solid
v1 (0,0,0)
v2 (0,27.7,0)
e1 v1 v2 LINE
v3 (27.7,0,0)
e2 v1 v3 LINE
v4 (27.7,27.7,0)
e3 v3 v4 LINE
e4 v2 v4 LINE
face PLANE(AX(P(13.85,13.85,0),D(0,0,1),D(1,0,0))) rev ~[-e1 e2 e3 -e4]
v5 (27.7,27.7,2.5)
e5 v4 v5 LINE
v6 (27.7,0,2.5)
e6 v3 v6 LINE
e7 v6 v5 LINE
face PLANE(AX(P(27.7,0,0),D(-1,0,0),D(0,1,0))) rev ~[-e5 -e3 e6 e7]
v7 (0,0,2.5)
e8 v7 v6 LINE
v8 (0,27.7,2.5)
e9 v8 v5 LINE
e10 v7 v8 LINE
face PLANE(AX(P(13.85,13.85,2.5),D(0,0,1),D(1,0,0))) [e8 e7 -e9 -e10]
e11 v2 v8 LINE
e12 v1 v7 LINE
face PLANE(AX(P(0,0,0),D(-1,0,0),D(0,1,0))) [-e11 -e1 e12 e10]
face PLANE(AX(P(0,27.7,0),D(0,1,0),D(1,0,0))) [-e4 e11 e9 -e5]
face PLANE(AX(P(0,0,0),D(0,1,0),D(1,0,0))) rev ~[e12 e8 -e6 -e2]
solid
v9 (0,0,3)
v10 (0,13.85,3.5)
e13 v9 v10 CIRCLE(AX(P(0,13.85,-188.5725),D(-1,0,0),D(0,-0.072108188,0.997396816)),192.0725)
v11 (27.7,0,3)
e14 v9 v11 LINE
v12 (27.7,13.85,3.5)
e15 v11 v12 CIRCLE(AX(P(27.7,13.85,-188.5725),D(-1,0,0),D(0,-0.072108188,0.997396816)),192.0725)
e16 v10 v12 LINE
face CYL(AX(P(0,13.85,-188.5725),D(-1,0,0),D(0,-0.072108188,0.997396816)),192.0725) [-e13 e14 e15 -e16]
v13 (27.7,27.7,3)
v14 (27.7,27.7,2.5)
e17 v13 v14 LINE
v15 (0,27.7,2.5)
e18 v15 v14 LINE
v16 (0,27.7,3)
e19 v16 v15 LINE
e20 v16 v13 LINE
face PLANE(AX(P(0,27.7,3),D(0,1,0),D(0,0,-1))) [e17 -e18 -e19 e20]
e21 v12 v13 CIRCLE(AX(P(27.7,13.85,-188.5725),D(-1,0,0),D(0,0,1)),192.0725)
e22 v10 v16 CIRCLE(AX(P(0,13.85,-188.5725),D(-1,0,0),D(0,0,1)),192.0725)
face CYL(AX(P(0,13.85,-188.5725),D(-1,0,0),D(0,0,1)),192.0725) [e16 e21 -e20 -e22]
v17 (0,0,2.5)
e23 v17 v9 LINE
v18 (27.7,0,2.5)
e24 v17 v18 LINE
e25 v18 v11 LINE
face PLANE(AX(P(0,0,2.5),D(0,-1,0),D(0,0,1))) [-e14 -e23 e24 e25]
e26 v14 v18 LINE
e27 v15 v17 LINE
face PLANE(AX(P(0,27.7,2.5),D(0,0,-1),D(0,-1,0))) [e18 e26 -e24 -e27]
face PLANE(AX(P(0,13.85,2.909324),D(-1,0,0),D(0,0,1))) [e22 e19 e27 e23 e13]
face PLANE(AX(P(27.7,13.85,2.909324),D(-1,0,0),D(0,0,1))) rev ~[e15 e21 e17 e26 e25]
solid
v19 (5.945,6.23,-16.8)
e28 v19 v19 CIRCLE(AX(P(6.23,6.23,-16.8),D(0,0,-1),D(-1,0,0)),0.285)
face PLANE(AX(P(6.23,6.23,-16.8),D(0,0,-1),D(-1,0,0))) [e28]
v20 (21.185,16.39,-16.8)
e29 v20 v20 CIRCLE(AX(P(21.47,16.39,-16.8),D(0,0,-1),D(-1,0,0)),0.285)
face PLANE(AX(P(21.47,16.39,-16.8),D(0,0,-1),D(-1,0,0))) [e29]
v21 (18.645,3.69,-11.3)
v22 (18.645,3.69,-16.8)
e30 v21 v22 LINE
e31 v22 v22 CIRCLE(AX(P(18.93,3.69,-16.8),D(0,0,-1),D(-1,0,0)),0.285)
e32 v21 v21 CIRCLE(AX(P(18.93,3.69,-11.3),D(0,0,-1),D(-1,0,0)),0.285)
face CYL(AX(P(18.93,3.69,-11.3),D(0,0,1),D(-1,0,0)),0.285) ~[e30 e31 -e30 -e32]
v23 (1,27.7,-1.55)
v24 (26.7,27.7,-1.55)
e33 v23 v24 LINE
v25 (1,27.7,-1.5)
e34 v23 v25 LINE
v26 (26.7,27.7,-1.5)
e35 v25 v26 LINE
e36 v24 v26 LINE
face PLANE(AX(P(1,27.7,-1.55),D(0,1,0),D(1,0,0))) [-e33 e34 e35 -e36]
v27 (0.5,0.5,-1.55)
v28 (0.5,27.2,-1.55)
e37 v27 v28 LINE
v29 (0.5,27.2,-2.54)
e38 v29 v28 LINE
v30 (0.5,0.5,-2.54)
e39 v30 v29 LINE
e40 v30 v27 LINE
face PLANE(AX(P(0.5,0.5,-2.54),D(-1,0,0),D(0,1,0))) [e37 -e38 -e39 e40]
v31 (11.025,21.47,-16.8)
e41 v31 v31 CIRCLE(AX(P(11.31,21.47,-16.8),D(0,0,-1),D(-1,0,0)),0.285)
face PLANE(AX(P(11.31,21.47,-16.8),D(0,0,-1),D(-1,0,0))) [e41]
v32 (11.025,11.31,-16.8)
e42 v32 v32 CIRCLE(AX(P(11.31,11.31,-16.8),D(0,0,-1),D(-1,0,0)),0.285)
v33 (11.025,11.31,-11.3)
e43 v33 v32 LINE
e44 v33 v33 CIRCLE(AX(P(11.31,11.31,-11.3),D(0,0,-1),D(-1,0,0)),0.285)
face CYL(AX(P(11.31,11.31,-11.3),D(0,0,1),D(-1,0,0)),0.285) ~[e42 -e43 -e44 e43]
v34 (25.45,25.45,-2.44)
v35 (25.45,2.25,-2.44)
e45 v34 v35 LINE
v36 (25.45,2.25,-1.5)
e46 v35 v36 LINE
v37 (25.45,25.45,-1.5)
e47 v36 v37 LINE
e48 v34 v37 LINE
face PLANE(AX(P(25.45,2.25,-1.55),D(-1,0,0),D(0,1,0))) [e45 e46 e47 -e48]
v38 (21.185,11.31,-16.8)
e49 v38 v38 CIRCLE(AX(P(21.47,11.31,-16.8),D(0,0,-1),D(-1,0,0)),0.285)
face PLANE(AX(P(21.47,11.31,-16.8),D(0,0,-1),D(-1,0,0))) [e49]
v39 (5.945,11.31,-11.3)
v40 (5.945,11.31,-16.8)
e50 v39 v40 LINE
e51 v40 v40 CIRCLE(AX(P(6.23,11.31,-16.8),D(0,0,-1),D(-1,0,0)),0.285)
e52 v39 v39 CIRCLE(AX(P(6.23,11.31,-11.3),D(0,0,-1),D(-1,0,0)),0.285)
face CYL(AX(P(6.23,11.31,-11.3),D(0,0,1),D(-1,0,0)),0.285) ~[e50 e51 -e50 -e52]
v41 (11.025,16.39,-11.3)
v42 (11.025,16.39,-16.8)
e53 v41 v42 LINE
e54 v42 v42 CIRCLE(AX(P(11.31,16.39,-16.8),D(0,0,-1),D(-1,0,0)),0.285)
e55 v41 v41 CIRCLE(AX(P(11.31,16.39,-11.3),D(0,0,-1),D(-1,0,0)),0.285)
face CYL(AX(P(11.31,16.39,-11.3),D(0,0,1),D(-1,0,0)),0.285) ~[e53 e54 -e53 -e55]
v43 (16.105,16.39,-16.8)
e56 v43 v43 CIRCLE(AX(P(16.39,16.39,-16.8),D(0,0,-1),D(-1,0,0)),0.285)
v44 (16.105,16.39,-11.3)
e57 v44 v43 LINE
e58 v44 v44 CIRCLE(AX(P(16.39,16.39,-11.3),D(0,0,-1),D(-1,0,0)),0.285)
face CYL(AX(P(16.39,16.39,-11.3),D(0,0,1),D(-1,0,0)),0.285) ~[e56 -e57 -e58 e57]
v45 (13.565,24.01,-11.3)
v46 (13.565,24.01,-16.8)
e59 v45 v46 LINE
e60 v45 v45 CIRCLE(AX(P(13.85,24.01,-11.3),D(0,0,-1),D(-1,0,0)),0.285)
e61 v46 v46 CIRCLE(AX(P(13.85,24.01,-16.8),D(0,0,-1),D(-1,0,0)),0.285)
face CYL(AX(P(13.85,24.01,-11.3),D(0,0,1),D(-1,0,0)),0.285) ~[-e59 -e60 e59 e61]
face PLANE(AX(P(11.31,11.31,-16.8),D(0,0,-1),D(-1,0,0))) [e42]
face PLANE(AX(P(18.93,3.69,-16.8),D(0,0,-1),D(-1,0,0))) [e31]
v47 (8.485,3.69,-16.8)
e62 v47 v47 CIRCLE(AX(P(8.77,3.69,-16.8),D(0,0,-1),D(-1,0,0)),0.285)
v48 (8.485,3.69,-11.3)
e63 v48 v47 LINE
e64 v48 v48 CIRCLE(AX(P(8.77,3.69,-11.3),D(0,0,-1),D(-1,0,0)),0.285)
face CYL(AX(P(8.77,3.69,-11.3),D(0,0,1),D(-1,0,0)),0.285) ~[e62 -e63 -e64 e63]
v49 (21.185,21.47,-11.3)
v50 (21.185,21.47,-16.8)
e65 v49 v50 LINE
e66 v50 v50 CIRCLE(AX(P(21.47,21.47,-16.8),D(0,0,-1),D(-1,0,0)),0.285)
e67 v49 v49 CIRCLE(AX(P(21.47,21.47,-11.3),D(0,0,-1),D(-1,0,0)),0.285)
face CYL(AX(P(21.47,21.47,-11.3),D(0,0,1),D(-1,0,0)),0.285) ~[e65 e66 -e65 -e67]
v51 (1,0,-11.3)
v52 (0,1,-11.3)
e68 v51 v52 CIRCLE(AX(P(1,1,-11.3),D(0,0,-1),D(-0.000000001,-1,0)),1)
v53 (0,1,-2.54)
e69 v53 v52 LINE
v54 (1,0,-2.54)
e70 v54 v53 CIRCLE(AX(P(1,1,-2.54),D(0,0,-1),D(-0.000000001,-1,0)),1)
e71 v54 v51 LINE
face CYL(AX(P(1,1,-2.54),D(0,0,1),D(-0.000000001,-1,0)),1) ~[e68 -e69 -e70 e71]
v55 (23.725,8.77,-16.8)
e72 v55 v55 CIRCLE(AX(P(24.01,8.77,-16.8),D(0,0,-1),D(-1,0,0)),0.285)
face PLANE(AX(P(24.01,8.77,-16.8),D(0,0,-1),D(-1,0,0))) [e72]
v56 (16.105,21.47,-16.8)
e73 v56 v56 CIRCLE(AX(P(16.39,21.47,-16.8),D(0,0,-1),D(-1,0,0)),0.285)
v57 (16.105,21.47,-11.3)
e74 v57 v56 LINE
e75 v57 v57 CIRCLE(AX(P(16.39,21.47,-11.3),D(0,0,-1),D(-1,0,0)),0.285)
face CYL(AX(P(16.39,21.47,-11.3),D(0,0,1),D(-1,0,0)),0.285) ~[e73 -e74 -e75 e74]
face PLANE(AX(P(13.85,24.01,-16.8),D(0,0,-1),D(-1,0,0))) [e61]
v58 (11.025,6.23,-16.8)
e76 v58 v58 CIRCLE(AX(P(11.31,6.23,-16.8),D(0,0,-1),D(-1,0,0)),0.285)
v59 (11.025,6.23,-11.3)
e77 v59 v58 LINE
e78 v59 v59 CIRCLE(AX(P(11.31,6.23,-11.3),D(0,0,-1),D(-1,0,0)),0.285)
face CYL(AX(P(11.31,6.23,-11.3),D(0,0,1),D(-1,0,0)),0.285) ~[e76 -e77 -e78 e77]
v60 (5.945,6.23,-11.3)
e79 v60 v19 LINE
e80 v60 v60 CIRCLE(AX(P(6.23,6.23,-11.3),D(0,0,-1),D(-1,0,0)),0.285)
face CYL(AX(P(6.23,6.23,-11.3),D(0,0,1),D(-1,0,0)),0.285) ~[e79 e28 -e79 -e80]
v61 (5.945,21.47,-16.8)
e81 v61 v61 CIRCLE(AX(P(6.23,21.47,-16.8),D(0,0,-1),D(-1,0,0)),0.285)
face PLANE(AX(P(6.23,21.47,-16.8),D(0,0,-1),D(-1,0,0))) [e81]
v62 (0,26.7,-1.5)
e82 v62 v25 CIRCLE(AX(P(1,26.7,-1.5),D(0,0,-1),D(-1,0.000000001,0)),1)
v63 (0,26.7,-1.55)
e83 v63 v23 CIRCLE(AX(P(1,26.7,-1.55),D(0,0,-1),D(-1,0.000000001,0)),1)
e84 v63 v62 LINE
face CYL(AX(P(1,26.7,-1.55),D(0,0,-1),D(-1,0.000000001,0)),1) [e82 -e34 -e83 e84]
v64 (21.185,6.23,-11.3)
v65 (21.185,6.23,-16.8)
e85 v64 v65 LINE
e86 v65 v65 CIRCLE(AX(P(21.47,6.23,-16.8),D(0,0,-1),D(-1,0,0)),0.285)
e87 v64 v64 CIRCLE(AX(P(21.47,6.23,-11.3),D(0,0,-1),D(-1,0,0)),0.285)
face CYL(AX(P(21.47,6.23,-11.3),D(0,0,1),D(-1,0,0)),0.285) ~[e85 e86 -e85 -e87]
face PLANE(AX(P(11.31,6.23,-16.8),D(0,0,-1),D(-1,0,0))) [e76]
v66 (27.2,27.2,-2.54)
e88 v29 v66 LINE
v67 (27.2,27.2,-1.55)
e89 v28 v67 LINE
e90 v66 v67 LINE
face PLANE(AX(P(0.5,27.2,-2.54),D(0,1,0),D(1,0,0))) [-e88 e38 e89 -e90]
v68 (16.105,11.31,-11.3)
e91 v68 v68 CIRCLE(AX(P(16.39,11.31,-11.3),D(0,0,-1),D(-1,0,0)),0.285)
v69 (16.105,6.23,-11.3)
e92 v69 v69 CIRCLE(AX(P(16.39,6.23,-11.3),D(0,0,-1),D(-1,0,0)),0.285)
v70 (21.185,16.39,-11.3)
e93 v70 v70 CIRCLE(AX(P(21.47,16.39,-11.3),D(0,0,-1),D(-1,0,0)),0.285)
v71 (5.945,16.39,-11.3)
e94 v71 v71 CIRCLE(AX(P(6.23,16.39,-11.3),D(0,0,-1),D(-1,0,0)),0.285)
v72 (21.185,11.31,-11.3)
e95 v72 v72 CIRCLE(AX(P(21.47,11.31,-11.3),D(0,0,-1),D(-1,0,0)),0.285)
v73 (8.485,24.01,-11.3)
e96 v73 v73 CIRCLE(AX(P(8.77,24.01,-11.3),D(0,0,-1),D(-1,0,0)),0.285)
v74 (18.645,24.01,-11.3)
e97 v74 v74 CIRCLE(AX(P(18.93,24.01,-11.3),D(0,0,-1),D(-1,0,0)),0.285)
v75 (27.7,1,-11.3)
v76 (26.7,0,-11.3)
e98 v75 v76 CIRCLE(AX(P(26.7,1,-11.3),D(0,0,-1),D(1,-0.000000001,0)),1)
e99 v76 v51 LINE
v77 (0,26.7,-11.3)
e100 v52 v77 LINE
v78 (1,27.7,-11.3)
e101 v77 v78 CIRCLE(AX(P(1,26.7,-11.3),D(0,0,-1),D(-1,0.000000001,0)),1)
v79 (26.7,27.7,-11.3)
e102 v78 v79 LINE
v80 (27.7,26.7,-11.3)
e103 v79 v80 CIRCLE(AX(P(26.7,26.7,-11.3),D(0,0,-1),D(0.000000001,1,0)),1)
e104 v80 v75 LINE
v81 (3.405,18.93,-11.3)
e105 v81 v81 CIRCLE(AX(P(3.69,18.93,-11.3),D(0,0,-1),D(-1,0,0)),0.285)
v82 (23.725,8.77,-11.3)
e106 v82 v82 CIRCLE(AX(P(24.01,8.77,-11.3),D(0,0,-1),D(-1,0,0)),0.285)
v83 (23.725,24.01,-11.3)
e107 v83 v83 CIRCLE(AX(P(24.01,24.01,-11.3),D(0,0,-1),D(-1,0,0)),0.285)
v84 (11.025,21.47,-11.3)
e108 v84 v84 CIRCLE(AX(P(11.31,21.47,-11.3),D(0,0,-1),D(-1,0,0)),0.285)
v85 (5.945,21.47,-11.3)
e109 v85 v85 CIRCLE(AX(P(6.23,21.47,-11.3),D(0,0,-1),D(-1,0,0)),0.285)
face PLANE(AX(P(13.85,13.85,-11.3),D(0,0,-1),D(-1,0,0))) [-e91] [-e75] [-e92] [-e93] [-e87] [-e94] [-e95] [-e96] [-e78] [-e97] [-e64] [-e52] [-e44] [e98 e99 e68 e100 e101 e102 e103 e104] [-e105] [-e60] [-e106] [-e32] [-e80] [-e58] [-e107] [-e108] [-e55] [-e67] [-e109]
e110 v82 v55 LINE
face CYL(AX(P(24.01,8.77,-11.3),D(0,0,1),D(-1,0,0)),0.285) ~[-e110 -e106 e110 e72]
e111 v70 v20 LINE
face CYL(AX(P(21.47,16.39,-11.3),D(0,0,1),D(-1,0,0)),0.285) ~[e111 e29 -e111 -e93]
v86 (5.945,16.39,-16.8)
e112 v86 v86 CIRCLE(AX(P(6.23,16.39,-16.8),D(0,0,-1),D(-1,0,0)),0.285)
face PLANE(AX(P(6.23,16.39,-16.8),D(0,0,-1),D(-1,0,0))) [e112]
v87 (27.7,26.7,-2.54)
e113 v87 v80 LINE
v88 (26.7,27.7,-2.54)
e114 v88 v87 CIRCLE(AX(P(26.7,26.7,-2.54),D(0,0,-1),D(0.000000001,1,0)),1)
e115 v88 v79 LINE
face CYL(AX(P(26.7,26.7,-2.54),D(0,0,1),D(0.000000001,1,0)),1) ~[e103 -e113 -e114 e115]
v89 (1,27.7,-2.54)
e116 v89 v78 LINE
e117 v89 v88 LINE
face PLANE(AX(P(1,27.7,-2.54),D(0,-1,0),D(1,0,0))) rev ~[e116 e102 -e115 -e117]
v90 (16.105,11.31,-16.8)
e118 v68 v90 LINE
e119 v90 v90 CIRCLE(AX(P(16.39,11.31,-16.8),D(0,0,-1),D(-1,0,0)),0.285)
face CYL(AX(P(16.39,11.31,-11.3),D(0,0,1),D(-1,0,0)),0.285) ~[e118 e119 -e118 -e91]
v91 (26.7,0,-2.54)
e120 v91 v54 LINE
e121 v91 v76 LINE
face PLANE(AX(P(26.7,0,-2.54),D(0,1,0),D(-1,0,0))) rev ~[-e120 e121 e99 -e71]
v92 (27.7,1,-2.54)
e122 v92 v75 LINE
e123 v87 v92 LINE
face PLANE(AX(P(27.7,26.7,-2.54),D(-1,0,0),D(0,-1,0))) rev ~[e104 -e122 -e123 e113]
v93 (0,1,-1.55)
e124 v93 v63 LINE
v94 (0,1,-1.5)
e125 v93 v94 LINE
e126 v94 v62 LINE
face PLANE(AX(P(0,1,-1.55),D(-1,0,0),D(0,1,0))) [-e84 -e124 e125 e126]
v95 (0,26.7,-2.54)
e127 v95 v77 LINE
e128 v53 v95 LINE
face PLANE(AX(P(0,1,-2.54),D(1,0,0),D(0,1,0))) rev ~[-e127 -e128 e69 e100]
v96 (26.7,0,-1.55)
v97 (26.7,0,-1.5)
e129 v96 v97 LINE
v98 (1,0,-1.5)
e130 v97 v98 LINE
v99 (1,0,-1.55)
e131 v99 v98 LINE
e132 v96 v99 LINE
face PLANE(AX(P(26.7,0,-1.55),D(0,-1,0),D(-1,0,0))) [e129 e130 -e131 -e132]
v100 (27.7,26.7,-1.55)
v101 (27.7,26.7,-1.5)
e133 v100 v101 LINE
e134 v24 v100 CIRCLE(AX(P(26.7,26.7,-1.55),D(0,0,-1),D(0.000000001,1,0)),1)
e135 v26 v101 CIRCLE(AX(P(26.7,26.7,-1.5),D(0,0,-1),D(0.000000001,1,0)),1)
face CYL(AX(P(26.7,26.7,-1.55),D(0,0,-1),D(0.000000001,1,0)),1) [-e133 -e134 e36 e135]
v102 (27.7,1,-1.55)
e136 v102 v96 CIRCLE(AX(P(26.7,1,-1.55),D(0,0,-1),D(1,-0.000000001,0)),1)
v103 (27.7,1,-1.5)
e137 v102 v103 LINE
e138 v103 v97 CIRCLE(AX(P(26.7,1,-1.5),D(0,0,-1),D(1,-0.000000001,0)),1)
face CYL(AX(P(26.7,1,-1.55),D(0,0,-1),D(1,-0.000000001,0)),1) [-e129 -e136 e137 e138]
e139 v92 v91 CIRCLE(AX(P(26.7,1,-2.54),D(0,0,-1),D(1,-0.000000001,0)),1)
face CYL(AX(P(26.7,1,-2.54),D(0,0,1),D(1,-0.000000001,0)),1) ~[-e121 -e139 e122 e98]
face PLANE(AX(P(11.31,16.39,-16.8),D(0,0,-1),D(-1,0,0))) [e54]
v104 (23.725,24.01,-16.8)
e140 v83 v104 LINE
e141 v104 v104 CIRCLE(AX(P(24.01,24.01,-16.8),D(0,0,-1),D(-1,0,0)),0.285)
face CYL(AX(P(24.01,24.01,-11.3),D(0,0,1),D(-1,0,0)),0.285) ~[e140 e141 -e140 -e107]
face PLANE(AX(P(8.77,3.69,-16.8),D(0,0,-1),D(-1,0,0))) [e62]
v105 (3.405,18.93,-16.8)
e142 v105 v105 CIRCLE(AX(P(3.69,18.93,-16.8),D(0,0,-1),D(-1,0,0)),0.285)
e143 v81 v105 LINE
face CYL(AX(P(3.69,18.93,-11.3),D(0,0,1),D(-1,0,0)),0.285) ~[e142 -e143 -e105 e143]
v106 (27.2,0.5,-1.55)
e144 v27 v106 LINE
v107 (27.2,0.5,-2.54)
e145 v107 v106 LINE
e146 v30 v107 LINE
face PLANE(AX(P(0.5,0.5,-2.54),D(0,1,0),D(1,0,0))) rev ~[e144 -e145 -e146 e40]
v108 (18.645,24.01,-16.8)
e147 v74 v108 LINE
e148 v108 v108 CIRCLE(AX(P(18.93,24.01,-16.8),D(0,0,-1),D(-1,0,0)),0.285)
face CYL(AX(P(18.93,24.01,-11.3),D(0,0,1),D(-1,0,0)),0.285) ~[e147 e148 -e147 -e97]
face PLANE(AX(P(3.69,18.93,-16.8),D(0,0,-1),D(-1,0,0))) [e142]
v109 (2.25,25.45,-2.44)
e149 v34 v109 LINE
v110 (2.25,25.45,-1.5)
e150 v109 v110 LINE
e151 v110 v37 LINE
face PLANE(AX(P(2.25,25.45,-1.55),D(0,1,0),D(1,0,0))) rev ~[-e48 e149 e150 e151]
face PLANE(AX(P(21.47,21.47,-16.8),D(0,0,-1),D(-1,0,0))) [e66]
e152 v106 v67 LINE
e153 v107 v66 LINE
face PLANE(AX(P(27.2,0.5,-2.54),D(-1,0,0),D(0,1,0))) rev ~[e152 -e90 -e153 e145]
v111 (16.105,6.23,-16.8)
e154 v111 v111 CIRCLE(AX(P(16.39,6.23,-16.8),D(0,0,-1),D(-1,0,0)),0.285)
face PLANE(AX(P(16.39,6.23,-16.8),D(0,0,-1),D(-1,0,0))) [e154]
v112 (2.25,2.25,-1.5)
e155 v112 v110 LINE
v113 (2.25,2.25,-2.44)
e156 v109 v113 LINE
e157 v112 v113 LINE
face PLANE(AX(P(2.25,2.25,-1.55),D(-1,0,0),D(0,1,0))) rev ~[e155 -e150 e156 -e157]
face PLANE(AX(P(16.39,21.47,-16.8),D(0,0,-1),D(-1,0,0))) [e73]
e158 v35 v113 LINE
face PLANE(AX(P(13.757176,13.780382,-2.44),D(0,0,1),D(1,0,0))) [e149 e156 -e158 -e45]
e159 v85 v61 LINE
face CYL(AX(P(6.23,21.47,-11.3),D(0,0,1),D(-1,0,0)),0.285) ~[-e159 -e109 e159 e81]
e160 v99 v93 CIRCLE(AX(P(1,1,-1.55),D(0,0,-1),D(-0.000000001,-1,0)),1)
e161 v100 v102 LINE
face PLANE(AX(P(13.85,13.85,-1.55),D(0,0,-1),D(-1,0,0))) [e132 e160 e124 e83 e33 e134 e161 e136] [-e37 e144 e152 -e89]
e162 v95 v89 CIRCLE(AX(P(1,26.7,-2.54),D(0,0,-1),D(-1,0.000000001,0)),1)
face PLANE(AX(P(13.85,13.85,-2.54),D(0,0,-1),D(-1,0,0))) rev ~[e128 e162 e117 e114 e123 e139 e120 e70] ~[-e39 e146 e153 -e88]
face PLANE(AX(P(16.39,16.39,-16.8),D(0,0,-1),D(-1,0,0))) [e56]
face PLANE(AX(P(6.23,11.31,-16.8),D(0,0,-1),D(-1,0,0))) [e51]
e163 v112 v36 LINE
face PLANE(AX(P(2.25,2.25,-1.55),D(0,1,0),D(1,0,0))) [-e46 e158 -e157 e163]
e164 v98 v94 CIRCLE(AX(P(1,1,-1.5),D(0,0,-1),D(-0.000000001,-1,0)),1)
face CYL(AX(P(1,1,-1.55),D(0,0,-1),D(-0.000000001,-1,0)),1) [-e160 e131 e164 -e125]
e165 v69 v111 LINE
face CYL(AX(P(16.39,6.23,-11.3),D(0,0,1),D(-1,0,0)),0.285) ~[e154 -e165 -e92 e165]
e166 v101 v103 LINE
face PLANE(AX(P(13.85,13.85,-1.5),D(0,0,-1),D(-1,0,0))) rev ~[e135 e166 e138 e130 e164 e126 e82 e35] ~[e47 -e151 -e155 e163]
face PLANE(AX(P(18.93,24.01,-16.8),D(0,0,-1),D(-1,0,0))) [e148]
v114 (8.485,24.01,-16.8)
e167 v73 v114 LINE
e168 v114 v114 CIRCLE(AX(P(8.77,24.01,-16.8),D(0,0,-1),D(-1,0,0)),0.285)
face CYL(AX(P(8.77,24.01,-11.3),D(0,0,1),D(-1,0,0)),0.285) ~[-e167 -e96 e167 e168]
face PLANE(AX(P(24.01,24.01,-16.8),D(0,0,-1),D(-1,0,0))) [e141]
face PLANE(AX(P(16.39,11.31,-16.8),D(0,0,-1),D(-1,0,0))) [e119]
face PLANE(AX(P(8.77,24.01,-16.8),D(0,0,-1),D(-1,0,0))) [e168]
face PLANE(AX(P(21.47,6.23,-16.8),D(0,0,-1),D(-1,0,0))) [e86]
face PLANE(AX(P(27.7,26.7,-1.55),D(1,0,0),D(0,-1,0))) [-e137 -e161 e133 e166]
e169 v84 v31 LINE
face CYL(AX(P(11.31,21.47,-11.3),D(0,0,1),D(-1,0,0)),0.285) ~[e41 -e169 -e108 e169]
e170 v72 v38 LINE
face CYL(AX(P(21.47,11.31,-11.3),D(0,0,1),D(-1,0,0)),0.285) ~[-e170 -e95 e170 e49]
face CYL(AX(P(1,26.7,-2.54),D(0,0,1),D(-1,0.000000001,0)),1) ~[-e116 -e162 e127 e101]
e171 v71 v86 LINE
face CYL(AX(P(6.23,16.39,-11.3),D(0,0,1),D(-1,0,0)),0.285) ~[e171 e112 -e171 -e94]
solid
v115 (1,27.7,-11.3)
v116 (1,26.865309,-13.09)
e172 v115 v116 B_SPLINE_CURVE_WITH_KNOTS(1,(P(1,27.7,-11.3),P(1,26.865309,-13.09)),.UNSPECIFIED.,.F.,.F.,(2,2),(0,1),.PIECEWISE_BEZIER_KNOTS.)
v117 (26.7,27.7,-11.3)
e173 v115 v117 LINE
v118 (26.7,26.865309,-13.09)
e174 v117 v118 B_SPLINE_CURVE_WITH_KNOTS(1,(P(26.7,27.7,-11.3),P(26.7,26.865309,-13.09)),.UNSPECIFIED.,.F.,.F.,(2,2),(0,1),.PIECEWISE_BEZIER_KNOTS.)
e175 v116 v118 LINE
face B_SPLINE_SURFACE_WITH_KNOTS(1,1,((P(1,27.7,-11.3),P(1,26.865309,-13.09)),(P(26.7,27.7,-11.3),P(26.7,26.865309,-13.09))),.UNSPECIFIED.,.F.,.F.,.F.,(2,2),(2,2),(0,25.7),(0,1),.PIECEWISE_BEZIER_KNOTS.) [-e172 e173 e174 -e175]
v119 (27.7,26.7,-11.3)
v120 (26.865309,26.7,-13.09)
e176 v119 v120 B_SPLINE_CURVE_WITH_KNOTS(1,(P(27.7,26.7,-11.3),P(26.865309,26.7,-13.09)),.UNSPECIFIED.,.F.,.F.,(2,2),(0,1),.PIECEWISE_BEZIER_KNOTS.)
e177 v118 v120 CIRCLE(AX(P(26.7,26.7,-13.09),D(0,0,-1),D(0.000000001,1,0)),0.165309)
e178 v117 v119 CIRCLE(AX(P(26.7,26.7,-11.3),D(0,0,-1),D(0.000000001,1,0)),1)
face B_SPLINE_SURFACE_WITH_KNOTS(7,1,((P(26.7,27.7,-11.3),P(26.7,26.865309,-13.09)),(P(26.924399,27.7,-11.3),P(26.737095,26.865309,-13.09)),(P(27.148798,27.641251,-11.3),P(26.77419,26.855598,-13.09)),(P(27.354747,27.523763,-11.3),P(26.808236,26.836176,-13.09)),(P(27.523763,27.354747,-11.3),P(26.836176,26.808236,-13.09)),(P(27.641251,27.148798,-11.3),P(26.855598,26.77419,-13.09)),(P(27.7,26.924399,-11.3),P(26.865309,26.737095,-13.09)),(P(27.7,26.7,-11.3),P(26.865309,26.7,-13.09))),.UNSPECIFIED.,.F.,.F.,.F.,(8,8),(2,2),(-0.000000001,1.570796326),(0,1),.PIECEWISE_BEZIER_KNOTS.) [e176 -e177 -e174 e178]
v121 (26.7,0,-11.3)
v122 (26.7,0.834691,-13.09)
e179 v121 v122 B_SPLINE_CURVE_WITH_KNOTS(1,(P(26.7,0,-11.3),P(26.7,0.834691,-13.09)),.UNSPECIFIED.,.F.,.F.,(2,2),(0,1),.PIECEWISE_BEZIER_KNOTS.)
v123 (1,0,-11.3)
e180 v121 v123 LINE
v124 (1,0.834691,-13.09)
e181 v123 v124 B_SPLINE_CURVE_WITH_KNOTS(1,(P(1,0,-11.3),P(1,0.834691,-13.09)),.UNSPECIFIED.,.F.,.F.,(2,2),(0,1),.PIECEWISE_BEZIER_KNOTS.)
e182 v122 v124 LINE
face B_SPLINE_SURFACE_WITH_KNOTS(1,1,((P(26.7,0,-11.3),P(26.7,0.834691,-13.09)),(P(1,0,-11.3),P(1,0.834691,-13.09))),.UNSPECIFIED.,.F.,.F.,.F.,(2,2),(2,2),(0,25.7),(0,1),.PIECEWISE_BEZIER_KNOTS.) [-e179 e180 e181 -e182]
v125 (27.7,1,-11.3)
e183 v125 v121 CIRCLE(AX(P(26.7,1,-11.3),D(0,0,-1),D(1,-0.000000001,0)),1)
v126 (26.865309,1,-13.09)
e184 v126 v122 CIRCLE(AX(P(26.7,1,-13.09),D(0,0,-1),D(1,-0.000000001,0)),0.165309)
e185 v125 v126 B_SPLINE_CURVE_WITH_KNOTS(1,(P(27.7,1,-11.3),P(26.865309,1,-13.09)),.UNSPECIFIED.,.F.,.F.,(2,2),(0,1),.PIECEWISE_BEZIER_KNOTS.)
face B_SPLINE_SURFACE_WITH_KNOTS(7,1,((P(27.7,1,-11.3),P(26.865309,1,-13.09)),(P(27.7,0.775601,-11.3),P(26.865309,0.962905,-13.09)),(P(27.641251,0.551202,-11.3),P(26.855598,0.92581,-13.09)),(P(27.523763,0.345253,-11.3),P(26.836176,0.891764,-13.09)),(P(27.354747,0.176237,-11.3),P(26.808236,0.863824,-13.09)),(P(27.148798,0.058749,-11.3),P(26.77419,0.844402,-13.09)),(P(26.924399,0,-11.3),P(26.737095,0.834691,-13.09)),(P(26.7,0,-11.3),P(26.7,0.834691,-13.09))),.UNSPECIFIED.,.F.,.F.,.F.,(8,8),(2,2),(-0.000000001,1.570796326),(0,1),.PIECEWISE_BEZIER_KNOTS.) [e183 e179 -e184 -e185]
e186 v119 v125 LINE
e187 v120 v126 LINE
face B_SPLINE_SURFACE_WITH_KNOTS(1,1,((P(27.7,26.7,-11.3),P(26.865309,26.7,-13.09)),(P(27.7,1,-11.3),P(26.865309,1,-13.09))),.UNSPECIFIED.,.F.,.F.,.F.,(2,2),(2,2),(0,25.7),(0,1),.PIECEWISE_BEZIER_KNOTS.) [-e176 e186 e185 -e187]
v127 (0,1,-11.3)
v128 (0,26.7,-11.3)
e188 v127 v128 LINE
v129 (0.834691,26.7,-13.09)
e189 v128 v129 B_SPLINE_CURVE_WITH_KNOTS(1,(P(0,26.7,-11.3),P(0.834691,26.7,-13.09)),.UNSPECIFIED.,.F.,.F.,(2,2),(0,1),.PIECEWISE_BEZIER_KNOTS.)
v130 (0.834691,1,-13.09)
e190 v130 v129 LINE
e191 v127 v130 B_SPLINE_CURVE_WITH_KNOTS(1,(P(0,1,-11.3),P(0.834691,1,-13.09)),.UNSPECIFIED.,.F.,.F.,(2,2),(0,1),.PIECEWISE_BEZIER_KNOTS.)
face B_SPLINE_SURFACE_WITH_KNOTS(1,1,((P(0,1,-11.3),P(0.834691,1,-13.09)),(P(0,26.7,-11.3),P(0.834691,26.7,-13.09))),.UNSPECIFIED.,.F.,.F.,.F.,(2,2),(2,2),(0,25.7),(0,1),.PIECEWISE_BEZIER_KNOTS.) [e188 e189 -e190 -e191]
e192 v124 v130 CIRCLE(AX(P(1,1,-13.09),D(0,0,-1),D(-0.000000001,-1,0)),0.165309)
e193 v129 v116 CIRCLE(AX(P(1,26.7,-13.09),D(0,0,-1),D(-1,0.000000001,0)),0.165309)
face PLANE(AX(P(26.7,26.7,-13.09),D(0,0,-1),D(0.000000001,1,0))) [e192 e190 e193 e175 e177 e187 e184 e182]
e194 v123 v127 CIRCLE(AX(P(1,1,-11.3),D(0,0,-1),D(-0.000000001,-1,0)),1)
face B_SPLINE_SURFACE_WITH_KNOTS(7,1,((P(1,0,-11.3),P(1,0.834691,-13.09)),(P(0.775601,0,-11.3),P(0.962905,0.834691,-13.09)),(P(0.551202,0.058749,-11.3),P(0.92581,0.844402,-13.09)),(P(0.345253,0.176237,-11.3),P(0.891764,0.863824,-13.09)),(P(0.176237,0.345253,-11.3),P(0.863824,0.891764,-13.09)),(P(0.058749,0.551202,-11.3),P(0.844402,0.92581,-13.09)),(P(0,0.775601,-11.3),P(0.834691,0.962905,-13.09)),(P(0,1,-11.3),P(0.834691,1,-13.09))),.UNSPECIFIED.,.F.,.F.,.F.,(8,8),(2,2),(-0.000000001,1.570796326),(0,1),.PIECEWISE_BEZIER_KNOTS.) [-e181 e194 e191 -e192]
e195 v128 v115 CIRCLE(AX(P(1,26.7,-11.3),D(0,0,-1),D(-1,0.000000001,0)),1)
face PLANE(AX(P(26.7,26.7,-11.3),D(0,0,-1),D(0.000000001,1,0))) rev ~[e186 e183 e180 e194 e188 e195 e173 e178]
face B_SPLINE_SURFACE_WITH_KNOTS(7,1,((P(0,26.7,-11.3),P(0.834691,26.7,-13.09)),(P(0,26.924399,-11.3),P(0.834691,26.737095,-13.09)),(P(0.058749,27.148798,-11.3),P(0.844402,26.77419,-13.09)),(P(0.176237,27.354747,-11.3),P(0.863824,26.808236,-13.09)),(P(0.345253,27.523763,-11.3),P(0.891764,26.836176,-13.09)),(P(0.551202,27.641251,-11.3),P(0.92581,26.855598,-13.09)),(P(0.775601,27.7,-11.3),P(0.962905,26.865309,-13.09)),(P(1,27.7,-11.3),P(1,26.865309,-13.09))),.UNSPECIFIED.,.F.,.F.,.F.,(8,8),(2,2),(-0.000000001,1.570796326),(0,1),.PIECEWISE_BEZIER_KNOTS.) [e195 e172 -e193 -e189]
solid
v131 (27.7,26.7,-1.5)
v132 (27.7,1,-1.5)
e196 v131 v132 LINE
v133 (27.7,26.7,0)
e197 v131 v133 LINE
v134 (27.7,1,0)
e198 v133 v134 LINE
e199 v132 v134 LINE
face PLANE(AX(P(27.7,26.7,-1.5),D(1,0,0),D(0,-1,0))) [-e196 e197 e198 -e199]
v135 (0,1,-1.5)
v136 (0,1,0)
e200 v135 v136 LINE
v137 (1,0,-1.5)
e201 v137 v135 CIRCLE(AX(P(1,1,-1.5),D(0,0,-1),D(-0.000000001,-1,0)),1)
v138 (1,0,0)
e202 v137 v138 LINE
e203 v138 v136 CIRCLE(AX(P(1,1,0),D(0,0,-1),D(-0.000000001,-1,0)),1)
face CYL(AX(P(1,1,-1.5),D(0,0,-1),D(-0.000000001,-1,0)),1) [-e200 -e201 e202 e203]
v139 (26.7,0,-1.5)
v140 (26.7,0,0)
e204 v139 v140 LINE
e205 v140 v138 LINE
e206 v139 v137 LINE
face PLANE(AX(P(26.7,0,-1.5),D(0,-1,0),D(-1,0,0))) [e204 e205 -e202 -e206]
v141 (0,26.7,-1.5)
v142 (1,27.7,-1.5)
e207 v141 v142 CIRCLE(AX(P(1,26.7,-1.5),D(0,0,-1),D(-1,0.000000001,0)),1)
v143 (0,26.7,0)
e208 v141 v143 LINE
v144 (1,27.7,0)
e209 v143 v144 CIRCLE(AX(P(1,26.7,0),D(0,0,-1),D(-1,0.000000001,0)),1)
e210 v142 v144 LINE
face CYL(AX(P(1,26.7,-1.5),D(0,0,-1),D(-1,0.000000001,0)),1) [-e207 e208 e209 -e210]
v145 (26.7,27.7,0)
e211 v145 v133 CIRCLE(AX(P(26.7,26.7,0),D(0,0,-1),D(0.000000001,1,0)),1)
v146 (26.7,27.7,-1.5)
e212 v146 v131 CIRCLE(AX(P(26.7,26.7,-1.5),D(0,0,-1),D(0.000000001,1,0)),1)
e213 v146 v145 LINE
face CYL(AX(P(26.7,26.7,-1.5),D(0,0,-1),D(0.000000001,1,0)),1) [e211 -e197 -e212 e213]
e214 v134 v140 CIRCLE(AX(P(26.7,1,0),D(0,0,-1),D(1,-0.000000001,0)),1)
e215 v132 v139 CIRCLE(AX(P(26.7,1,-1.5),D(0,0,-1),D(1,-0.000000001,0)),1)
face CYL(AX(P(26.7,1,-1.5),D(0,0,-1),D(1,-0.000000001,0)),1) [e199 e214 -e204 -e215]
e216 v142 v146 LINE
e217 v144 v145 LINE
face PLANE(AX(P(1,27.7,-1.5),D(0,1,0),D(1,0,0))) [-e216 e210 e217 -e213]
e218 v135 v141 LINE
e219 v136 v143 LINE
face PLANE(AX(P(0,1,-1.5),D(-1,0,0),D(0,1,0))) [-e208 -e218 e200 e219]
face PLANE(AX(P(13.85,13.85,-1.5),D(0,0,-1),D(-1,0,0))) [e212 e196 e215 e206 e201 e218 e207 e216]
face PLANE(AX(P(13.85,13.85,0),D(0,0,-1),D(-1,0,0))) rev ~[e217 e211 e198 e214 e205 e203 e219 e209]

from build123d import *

# Parameters (mm, degrees)
METAL_CASE_AT_HV_DEPTH   = 8.76
SKETCH3_W                = 24.737677246
SKETCH3_H                = 24.830501551
PHOTOCATHODE_DEPTH       = 0.1
SKETCH5_W                = 26.7
SKETCH5_H                = 26.7
SKETCH5_W_2              = 23.2
SKETCH5_H_2              = 23.2
BOSS_EXTRUDE3_DEPTH      = 0.99
SKETCH6_W                = 23.2
SKETCH6_H                = 23.2
MIRRORED_SURFACE_DEPTH   = 0.05
FRONT_GLASS_DEPTH        = 1.5
SKETCH8_R                = 0.285
PINS_DEPTH               = 5.5
SKETCH9_W                = 1.403236588
SKETCH9_H                = 1.496318302
SKETCH9_W_2              = 1.502916358
SKETCH9_H_2              = 1.880163391
SKETCH9_W_3              = 1.432017479
SKETCH9_W_4              = 4.227959696
SKETCH9_W_5              = 1.836353851
SKETCH9_H_3              = 11.695124286
SKETCH9_H_4              = 4.871079897
SKETCH9_W_6              = 1.828629866
SKETCH9_H_5              = 1.71959621
SKETCH9_W_7              = 1.615933227
SKETCH9_W_8              = 1.365330314
SKETCH9_W_9              = 1.525378005
SKETCH9_H_6              = 1.496732956
SKETCH9_W_10             = 17.055037943
SKETCH9_H_7              = 1.444241572
SKETCH9_H_8              = 1.617700465
SKETCH9_H_9              = 1.513765196
SKETCH9_H_10             = 14.892572142
SKETCH9_H_11             = 1.645870576
SKETCH9_H_12             = 1.829290868
SKETCH9_W_11             = 1.140707165
SKETCH9_H_13             = 1.492116291
SKETCH9_W_12             = 1.724036428
SKETCH9_W_13             = 1.316199483
SKETCH9_H_14             = 1.570615298
SKETCH9_W_14             = 1.593474923
SKETCH9_W_15             = 1.889006141
SKETCH9_H_15             = 2.206356806
SKETCH9_W_16             = 6.877190486
SKETCH9_H_16             = 1.783898062
SKETCH9_W_17             = 1.759836844
SKETCH9_H_17             = 1.481039903
CUT_EXTRUDE1_DEPTH       = 5.5
RUBBER_DEPTH             = 1.79
RUBBER_TAPER             = 25
SKETCH17_W               = 27.7
SKETCH17_H               = 27.7
FILTER_2_DEPTH           = 2.5
COOKIE_CYLINDRICAL_DEPTH = 27.7


with BuildPart() as part:
    # Sketch2 → metal-case-at-HV (new body)
    with BuildSketch(Plane.XY.offset(-2.54)):
        with BuildLine():
            Line((1, 27.7), (26.7, 27.7))
            ThreePointArc((26.7, 27.7), (27.407106781, 27.407106781), (27.7, 26.7))
            Line((27.7, 26.7), (27.7, 1))
            ThreePointArc((27.7, 1), (27.407106781, 0.292893219), (26.7, 0))
            Line((26.7, 0), (1, 0))
            ThreePointArc((1, 0), (0.292893219, 0.292893219), (0, 1))
            Line((0, 1), (0, 26.7))
            ThreePointArc((0, 26.7), (0.292893219, 27.407106781), (1, 27.7))
        make_face()
    extrude(amount=-METAL_CASE_AT_HV_DEPTH)

    # Sketch3 → photocathode (add)
    with BuildSketch(Plane.XY.offset(-2.54)):
        with Locations((13.757175695, 13.780381772)):
            Rectangle(SKETCH3_W, SKETCH3_H)
    extrude(amount=PHOTOCATHODE_DEPTH)

    # Sketch5 → Boss-Extrude3 (add)
    with BuildSketch(Plane.XY.offset(-2.54)):
        with Locations((13.85, 13.85)):
            Rectangle(SKETCH5_W, SKETCH5_H)
        with Locations((13.85, 13.85)):
            Rectangle(SKETCH5_W_2, SKETCH5_H_2, mode=Mode.SUBTRACT)
    extrude(amount=BOSS_EXTRUDE3_DEPTH)

    # Sketch6 → mirrored-surface (add)
    with BuildSketch(Plane.XY.offset(-1.55)):
        with BuildLine():
            Line((1, 27.7), (26.7, 27.7))
            ThreePointArc((26.7, 27.7), (27.407106781, 27.407106781), (27.7, 26.7))
            Line((27.7, 26.7), (27.7, 1))
            ThreePointArc((27.7, 1), (27.407106781, 0.292893219), (26.7, 0))
            Line((26.7, 0), (1, 0))
            ThreePointArc((1, 0), (0.292893219, 0.292893219), (0, 1))
            Line((0, 1), (0, 26.7))
            ThreePointArc((0, 26.7), (0.292893219, 27.407106781), (1, 27.7))
        make_face()
        with Locations((13.85, 13.85)):
            Rectangle(SKETCH6_W, SKETCH6_H, mode=Mode.SUBTRACT)
    extrude(amount=MIRRORED_SURFACE_DEPTH)

    # Sketch8 → pins (add)
    with BuildSketch(Plane(origin=(0, 0, -11.3), x_dir=(-1, 0, 0), z_dir=(0, 0, -1))):
        with Locations((-24.01, 3.69)):
            Circle(SKETCH8_R)
        with Locations((-21.47, 3.69)):
            Circle(SKETCH8_R)
        with Locations((-18.93, 3.69)):
            Circle(SKETCH8_R)
        with Locations((-16.39, 3.69)):
            Circle(SKETCH8_R)
        with Locations((-13.85, 3.69)):
            Circle(SKETCH8_R)
        with Locations((-11.31, 3.69)):
            Circle(SKETCH8_R)
        with Locations((-8.77, 3.69)):
            Circle(SKETCH8_R)
        with Locations((-6.23, 3.69)):
            Circle(SKETCH8_R)
        with Locations((-3.69, 3.69)):
            Circle(SKETCH8_R)
        with Locations((-24.01, 6.23)):
            Circle(SKETCH8_R)
        with Locations((-21.47, 6.23)):
            Circle(SKETCH8_R)
        with Locations((-18.93, 6.23)):
            Circle(SKETCH8_R)
        with Locations((-16.39, 6.23)):
            Circle(SKETCH8_R)
        with Locations((-13.85, 6.23)):
            Circle(SKETCH8_R)
        with Locations((-11.31, 6.23)):
            Circle(SKETCH8_R)
        with Locations((-8.77, 6.23)):
            Circle(SKETCH8_R)
        with Locations((-6.23, 6.23)):
            Circle(SKETCH8_R)
        with Locations((-3.69, 6.23)):
            Circle(SKETCH8_R)
        with Locations((-24.01, 8.77)):
            Circle(SKETCH8_R)
        with Locations((-21.47, 8.77)):
            Circle(SKETCH8_R)
        with Locations((-18.93, 8.77)):
            Circle(SKETCH8_R)
        with Locations((-16.39, 8.77)):
            Circle(SKETCH8_R)
        with Locations((-13.85, 8.77)):
            Circle(SKETCH8_R)
        with Locations((-11.31, 8.77)):
            Circle(SKETCH8_R)
        with Locations((-8.77, 8.77)):
            Circle(SKETCH8_R)
        with Locations((-6.23, 8.77)):
            Circle(SKETCH8_R)
        with Locations((-3.69, 8.77)):
            Circle(SKETCH8_R)
        with Locations((-24.01, 11.31)):
            Circle(SKETCH8_R)
        with Locations((-21.47, 11.31)):
            Circle(SKETCH8_R)
        with Locations((-18.93, 11.31)):
            Circle(SKETCH8_R)
        with Locations((-16.39, 11.31)):
            Circle(SKETCH8_R)
        with Locations((-13.85, 11.31)):
            Circle(SKETCH8_R)
        with Locations((-11.31, 11.31)):
            Circle(SKETCH8_R)
        with Locations((-8.77, 11.31)):
            Circle(SKETCH8_R)
        with Locations((-6.23, 11.31)):
            Circle(SKETCH8_R)
        with Locations((-3.69, 11.31)):
            Circle(SKETCH8_R)
        with Locations((-24.01, 13.85)):
            Circle(SKETCH8_R)
        with Locations((-21.47, 13.85)):
            Circle(SKETCH8_R)
        with Locations((-18.93, 13.85)):
            Circle(SKETCH8_R)
        with Locations((-16.39, 13.85)):
            Circle(SKETCH8_R)
        with Locations((-13.85, 13.85)):
            Circle(SKETCH8_R)
        with Locations((-11.31, 13.85)):
            Circle(SKETCH8_R)
        with Locations((-8.77, 13.85)):
            Circle(SKETCH8_R)
        with Locations((-6.23, 13.85)):
            Circle(SKETCH8_R)
        with Locations((-3.69, 13.85)):
            Circle(SKETCH8_R)
        with Locations((-24.01, 16.39)):
            Circle(SKETCH8_R)
        with Locations((-21.47, 16.39)):
            Circle(SKETCH8_R)
        with Locations((-18.93, 16.39)):
            Circle(SKETCH8_R)
        with Locations((-16.39, 16.39)):
            Circle(SKETCH8_R)
        with Locations((-13.85, 16.39)):
            Circle(SKETCH8_R)
        with Locations((-11.31, 16.39)):
            Circle(SKETCH8_R)
        with Locations((-8.77, 16.39)):
            Circle(SKETCH8_R)
        with Locations((-6.23, 16.39)):
            Circle(SKETCH8_R)
        with Locations((-3.69, 16.39)):
            Circle(SKETCH8_R)
        with Locations((-24.01, 18.93)):
            Circle(SKETCH8_R)
        with Locations((-21.47, 18.93)):
            Circle(SKETCH8_R)
        with Locations((-18.93, 18.93)):
            Circle(SKETCH8_R)
        with Locations((-16.39, 18.93)):
            Circle(SKETCH8_R)
        with Locations((-13.85, 18.93)):
            Circle(SKETCH8_R)
        with Locations((-11.31, 18.93)):
            Circle(SKETCH8_R)
        with Locations((-8.77, 18.93)):
            Circle(SKETCH8_R)
        with Locations((-6.23, 18.93)):
            Circle(SKETCH8_R)
        with Locations((-3.69, 18.93)):
            Circle(SKETCH8_R)
        with Locations((-24.01, 21.47)):
            Circle(SKETCH8_R)
        with Locations((-21.47, 21.47)):
            Circle(SKETCH8_R)
        with Locations((-18.93, 21.47)):
            Circle(SKETCH8_R)
        with Locations((-16.39, 21.47)):
            Circle(SKETCH8_R)
        with Locations((-13.85, 21.47)):
            Circle(SKETCH8_R)
        with Locations((-11.31, 21.47)):
            Circle(SKETCH8_R)
        with Locations((-8.77, 21.47)):
            Circle(SKETCH8_R)
        with Locations((-6.23, 21.47)):
            Circle(SKETCH8_R)
        with Locations((-3.69, 21.47)):
            Circle(SKETCH8_R)
        with Locations((-24.01, 24.01)):
            Circle(SKETCH8_R)
        with Locations((-21.47, 24.01)):
            Circle(SKETCH8_R)
        with Locations((-18.93, 24.01)):
            Circle(SKETCH8_R)
        with Locations((-16.39, 24.01)):
            Circle(SKETCH8_R)
        with Locations((-13.85, 24.01)):
            Circle(SKETCH8_R)
        with Locations((-11.31, 24.01)):
            Circle(SKETCH8_R)
        with Locations((-8.77, 24.01)):
            Circle(SKETCH8_R)
        with Locations((-6.23, 24.01)):
            Circle(SKETCH8_R)
        with Locations((-3.69, 24.01)):
            Circle(SKETCH8_R)
    extrude(amount=PINS_DEPTH)

    # Sketch9 → Cut-Extrude1 (cut)
    with BuildSketch(Plane(origin=(0, 0, -16.8), x_dir=(-1, 0, 0), z_dir=(0, 0, -1))):
        with Locations((-21.480019138, 24.113026159)):
            Rectangle(SKETCH9_W, SKETCH9_H)
        with Locations((-16.559216808, 23.921103615)):
            Rectangle(SKETCH9_W_2, SKETCH9_H_2)
        with Locations((-11.149493241, 23.921103615)):
            Rectangle(SKETCH9_W_3, SKETCH9_H_2)
        with Locations((-5.093958278, 24.113026159)):
            Rectangle(SKETCH9_W_4, SKETCH9_H)
        with Locations((-23.96533774, 16.379524364)):
            Rectangle(SKETCH9_W_5, SKETCH9_H_3)
        with Locations((-23.96533774, 5.141508534)):
            Rectangle(SKETCH9_W_5, SKETCH9_H_4)
        with Locations((-18.879223075, 21.590151656)):
            Rectangle(SKETCH9_W_6, SKETCH9_H_5)
        with Locations((-13.758710646, 21.590151656)):
            Rectangle(SKETCH9_W_7, SKETCH9_H_5)
        with Locations((-8.69295177, 21.590151656)):
            Rectangle(SKETCH9_W_8, SKETCH9_H_5)
        with Locations((-3.742667433, 21.478720029)):
            Rectangle(SKETCH9_W_9, SKETCH9_H_6)
        with Locations((-13.896295437, 19.092329501)):
            Rectangle(SKETCH9_W_10, SKETCH9_H_7)
        with Locations((-13.896295437, 13.951861682)):
            Rectangle(SKETCH9_W_10, SKETCH9_H_8)
        with Locations((-13.896295437, 8.881967989)):
            Rectangle(SKETCH9_W_10, SKETCH9_H_9)
        with Locations((-3.742667433, 10.152254656)):
            Rectangle(SKETCH9_W_9, SKETCH9_H_10)
        with Locations((-18.879223075, 16.504452811)):
            Rectangle(SKETCH9_W_6, SKETCH9_H_11)
        with Locations((-13.758710646, 16.504452811)):
            Rectangle(SKETCH9_W_7, SKETCH9_H_11)
        with Locations((-8.69295177, 16.504452811)):
            Rectangle(SKETCH9_W_8, SKETCH9_H_11)
        with Locations((-8.69295177, 11.446607655)):
            Rectangle(SKETCH9_W_8, SKETCH9_H_12)
        with Locations((-8.805263345, 6.274958053)):
            Rectangle(SKETCH9_W_11, SKETCH9_H_13)
        with Locations((-14.11249599, 6.274958053)):
            Rectangle(SKETCH9_W_12, SKETCH9_H_13)
        with Locations((-13.908577517, 11.31726987)):
            Rectangle(SKETCH9_W_13, SKETCH9_H_14)
        with Locations((-18.996800547, 11.446607655)):
            Rectangle(SKETCH9_W_14, SKETCH9_H_12)
        with Locations((-18.879223075, 6.274958053)):
            Rectangle(SKETCH9_W_6, SKETCH9_H_13)
        with Locations((-21.479311338, 3.809146988)):
            Rectangle(SKETCH9_W_15, SKETCH9_H_15)
        with Locations((-13.872079744, 3.597917616)):
            Rectangle(SKETCH9_W_16, SKETCH9_H_16)
        with Locations((-6.657233785, 3.749346696)):
            Rectangle(SKETCH9_W_17, SKETCH9_H_17)
    extrude(amount=-CUT_EXTRUDE1_DEPTH, mode=Mode.SUBTRACT)


with BuildPart() as body_2:
    # Sketch7 → front-glass (new body)
    with BuildSketch(Plane.XY.offset(-1.5)):
        with BuildLine():
            Line((1, 27.7), (26.7, 27.7))
            ThreePointArc((26.7, 27.7), (27.407106781, 27.407106781), (27.7, 26.7))
            Line((27.7, 26.7), (27.7, 1))
            ThreePointArc((27.7, 1), (27.407106781, 0.292893219), (26.7, 0))
            Line((26.7, 0), (1, 0))
            ThreePointArc((1, 0), (0.292893219, 0.292893219), (0, 1))
            Line((0, 1), (0, 26.7))
            ThreePointArc((0, 26.7), (0.292893219, 27.407106781), (1, 27.7))
        make_face()
    extrude(amount=FRONT_GLASS_DEPTH)


with BuildPart() as body_3:
    # Sketch10 → rubber (new body)
    with BuildSketch(Plane(origin=(0, 0, -11.3), x_dir=(-1, 0, 0), z_dir=(0, 0, -1))):
        with BuildLine():
            ThreePointArc((-26.7, 27.7), (-27.407106781, 27.407106781), (-27.7, 26.7))
            Line((-27.7, 26.7), (-27.7, 1))
            ThreePointArc((-27.7, 1), (-27.407106781, 0.292893219), (-26.7, 0))
            Line((-26.7, 0), (-1, 0))
            ThreePointArc((-1, 0), (-0.292893219, 0.292893219), (0, 1))
            Line((0, 1), (0, 26.7))
            ThreePointArc((0, 26.7), (-0.292893219, 27.407106781), (-1, 27.7))
            Line((-1, 27.7), (-26.7, 27.7))
        make_face()
    extrude(amount=RUBBER_DEPTH, taper=RUBBER_TAPER)


with BuildPart() as body_4:
    # Sketch17 → filter 2 (new body)
    with BuildSketch(Plane.XY):
        with Locations((13.85, 13.85)):
            Rectangle(SKETCH17_W, SKETCH17_H)
    extrude(amount=FILTER_2_DEPTH)


with BuildPart() as body_5:
    # Sketch14 → cookie-cylindrical (new body)
    with BuildSketch(Plane(origin=(0, 0, 0), x_dir=(0, 0, -1), z_dir=(1, 0, 0))):
        with BuildLine():
            Line((-2.5, 27.7), (-2.5, 0))
            Line((-2.5, 0), (-3, 0))
            ThreePointArc((-3, 0), (-3.374959299, 6.920488834), (-3.5, 13.85))
            ThreePointArc((-3.5, 13.85), (-3.374959299, 20.779511166), (-3, 27.7))
            Line((-3, 27.7), (-2.5, 27.7))
        make_face()
    extrude(amount=COOKIE_CYLINDRICAL_DEPTH)


solid = Compound([part.part, body_2.part, body_3.part, body_4.part, body_5.part])
